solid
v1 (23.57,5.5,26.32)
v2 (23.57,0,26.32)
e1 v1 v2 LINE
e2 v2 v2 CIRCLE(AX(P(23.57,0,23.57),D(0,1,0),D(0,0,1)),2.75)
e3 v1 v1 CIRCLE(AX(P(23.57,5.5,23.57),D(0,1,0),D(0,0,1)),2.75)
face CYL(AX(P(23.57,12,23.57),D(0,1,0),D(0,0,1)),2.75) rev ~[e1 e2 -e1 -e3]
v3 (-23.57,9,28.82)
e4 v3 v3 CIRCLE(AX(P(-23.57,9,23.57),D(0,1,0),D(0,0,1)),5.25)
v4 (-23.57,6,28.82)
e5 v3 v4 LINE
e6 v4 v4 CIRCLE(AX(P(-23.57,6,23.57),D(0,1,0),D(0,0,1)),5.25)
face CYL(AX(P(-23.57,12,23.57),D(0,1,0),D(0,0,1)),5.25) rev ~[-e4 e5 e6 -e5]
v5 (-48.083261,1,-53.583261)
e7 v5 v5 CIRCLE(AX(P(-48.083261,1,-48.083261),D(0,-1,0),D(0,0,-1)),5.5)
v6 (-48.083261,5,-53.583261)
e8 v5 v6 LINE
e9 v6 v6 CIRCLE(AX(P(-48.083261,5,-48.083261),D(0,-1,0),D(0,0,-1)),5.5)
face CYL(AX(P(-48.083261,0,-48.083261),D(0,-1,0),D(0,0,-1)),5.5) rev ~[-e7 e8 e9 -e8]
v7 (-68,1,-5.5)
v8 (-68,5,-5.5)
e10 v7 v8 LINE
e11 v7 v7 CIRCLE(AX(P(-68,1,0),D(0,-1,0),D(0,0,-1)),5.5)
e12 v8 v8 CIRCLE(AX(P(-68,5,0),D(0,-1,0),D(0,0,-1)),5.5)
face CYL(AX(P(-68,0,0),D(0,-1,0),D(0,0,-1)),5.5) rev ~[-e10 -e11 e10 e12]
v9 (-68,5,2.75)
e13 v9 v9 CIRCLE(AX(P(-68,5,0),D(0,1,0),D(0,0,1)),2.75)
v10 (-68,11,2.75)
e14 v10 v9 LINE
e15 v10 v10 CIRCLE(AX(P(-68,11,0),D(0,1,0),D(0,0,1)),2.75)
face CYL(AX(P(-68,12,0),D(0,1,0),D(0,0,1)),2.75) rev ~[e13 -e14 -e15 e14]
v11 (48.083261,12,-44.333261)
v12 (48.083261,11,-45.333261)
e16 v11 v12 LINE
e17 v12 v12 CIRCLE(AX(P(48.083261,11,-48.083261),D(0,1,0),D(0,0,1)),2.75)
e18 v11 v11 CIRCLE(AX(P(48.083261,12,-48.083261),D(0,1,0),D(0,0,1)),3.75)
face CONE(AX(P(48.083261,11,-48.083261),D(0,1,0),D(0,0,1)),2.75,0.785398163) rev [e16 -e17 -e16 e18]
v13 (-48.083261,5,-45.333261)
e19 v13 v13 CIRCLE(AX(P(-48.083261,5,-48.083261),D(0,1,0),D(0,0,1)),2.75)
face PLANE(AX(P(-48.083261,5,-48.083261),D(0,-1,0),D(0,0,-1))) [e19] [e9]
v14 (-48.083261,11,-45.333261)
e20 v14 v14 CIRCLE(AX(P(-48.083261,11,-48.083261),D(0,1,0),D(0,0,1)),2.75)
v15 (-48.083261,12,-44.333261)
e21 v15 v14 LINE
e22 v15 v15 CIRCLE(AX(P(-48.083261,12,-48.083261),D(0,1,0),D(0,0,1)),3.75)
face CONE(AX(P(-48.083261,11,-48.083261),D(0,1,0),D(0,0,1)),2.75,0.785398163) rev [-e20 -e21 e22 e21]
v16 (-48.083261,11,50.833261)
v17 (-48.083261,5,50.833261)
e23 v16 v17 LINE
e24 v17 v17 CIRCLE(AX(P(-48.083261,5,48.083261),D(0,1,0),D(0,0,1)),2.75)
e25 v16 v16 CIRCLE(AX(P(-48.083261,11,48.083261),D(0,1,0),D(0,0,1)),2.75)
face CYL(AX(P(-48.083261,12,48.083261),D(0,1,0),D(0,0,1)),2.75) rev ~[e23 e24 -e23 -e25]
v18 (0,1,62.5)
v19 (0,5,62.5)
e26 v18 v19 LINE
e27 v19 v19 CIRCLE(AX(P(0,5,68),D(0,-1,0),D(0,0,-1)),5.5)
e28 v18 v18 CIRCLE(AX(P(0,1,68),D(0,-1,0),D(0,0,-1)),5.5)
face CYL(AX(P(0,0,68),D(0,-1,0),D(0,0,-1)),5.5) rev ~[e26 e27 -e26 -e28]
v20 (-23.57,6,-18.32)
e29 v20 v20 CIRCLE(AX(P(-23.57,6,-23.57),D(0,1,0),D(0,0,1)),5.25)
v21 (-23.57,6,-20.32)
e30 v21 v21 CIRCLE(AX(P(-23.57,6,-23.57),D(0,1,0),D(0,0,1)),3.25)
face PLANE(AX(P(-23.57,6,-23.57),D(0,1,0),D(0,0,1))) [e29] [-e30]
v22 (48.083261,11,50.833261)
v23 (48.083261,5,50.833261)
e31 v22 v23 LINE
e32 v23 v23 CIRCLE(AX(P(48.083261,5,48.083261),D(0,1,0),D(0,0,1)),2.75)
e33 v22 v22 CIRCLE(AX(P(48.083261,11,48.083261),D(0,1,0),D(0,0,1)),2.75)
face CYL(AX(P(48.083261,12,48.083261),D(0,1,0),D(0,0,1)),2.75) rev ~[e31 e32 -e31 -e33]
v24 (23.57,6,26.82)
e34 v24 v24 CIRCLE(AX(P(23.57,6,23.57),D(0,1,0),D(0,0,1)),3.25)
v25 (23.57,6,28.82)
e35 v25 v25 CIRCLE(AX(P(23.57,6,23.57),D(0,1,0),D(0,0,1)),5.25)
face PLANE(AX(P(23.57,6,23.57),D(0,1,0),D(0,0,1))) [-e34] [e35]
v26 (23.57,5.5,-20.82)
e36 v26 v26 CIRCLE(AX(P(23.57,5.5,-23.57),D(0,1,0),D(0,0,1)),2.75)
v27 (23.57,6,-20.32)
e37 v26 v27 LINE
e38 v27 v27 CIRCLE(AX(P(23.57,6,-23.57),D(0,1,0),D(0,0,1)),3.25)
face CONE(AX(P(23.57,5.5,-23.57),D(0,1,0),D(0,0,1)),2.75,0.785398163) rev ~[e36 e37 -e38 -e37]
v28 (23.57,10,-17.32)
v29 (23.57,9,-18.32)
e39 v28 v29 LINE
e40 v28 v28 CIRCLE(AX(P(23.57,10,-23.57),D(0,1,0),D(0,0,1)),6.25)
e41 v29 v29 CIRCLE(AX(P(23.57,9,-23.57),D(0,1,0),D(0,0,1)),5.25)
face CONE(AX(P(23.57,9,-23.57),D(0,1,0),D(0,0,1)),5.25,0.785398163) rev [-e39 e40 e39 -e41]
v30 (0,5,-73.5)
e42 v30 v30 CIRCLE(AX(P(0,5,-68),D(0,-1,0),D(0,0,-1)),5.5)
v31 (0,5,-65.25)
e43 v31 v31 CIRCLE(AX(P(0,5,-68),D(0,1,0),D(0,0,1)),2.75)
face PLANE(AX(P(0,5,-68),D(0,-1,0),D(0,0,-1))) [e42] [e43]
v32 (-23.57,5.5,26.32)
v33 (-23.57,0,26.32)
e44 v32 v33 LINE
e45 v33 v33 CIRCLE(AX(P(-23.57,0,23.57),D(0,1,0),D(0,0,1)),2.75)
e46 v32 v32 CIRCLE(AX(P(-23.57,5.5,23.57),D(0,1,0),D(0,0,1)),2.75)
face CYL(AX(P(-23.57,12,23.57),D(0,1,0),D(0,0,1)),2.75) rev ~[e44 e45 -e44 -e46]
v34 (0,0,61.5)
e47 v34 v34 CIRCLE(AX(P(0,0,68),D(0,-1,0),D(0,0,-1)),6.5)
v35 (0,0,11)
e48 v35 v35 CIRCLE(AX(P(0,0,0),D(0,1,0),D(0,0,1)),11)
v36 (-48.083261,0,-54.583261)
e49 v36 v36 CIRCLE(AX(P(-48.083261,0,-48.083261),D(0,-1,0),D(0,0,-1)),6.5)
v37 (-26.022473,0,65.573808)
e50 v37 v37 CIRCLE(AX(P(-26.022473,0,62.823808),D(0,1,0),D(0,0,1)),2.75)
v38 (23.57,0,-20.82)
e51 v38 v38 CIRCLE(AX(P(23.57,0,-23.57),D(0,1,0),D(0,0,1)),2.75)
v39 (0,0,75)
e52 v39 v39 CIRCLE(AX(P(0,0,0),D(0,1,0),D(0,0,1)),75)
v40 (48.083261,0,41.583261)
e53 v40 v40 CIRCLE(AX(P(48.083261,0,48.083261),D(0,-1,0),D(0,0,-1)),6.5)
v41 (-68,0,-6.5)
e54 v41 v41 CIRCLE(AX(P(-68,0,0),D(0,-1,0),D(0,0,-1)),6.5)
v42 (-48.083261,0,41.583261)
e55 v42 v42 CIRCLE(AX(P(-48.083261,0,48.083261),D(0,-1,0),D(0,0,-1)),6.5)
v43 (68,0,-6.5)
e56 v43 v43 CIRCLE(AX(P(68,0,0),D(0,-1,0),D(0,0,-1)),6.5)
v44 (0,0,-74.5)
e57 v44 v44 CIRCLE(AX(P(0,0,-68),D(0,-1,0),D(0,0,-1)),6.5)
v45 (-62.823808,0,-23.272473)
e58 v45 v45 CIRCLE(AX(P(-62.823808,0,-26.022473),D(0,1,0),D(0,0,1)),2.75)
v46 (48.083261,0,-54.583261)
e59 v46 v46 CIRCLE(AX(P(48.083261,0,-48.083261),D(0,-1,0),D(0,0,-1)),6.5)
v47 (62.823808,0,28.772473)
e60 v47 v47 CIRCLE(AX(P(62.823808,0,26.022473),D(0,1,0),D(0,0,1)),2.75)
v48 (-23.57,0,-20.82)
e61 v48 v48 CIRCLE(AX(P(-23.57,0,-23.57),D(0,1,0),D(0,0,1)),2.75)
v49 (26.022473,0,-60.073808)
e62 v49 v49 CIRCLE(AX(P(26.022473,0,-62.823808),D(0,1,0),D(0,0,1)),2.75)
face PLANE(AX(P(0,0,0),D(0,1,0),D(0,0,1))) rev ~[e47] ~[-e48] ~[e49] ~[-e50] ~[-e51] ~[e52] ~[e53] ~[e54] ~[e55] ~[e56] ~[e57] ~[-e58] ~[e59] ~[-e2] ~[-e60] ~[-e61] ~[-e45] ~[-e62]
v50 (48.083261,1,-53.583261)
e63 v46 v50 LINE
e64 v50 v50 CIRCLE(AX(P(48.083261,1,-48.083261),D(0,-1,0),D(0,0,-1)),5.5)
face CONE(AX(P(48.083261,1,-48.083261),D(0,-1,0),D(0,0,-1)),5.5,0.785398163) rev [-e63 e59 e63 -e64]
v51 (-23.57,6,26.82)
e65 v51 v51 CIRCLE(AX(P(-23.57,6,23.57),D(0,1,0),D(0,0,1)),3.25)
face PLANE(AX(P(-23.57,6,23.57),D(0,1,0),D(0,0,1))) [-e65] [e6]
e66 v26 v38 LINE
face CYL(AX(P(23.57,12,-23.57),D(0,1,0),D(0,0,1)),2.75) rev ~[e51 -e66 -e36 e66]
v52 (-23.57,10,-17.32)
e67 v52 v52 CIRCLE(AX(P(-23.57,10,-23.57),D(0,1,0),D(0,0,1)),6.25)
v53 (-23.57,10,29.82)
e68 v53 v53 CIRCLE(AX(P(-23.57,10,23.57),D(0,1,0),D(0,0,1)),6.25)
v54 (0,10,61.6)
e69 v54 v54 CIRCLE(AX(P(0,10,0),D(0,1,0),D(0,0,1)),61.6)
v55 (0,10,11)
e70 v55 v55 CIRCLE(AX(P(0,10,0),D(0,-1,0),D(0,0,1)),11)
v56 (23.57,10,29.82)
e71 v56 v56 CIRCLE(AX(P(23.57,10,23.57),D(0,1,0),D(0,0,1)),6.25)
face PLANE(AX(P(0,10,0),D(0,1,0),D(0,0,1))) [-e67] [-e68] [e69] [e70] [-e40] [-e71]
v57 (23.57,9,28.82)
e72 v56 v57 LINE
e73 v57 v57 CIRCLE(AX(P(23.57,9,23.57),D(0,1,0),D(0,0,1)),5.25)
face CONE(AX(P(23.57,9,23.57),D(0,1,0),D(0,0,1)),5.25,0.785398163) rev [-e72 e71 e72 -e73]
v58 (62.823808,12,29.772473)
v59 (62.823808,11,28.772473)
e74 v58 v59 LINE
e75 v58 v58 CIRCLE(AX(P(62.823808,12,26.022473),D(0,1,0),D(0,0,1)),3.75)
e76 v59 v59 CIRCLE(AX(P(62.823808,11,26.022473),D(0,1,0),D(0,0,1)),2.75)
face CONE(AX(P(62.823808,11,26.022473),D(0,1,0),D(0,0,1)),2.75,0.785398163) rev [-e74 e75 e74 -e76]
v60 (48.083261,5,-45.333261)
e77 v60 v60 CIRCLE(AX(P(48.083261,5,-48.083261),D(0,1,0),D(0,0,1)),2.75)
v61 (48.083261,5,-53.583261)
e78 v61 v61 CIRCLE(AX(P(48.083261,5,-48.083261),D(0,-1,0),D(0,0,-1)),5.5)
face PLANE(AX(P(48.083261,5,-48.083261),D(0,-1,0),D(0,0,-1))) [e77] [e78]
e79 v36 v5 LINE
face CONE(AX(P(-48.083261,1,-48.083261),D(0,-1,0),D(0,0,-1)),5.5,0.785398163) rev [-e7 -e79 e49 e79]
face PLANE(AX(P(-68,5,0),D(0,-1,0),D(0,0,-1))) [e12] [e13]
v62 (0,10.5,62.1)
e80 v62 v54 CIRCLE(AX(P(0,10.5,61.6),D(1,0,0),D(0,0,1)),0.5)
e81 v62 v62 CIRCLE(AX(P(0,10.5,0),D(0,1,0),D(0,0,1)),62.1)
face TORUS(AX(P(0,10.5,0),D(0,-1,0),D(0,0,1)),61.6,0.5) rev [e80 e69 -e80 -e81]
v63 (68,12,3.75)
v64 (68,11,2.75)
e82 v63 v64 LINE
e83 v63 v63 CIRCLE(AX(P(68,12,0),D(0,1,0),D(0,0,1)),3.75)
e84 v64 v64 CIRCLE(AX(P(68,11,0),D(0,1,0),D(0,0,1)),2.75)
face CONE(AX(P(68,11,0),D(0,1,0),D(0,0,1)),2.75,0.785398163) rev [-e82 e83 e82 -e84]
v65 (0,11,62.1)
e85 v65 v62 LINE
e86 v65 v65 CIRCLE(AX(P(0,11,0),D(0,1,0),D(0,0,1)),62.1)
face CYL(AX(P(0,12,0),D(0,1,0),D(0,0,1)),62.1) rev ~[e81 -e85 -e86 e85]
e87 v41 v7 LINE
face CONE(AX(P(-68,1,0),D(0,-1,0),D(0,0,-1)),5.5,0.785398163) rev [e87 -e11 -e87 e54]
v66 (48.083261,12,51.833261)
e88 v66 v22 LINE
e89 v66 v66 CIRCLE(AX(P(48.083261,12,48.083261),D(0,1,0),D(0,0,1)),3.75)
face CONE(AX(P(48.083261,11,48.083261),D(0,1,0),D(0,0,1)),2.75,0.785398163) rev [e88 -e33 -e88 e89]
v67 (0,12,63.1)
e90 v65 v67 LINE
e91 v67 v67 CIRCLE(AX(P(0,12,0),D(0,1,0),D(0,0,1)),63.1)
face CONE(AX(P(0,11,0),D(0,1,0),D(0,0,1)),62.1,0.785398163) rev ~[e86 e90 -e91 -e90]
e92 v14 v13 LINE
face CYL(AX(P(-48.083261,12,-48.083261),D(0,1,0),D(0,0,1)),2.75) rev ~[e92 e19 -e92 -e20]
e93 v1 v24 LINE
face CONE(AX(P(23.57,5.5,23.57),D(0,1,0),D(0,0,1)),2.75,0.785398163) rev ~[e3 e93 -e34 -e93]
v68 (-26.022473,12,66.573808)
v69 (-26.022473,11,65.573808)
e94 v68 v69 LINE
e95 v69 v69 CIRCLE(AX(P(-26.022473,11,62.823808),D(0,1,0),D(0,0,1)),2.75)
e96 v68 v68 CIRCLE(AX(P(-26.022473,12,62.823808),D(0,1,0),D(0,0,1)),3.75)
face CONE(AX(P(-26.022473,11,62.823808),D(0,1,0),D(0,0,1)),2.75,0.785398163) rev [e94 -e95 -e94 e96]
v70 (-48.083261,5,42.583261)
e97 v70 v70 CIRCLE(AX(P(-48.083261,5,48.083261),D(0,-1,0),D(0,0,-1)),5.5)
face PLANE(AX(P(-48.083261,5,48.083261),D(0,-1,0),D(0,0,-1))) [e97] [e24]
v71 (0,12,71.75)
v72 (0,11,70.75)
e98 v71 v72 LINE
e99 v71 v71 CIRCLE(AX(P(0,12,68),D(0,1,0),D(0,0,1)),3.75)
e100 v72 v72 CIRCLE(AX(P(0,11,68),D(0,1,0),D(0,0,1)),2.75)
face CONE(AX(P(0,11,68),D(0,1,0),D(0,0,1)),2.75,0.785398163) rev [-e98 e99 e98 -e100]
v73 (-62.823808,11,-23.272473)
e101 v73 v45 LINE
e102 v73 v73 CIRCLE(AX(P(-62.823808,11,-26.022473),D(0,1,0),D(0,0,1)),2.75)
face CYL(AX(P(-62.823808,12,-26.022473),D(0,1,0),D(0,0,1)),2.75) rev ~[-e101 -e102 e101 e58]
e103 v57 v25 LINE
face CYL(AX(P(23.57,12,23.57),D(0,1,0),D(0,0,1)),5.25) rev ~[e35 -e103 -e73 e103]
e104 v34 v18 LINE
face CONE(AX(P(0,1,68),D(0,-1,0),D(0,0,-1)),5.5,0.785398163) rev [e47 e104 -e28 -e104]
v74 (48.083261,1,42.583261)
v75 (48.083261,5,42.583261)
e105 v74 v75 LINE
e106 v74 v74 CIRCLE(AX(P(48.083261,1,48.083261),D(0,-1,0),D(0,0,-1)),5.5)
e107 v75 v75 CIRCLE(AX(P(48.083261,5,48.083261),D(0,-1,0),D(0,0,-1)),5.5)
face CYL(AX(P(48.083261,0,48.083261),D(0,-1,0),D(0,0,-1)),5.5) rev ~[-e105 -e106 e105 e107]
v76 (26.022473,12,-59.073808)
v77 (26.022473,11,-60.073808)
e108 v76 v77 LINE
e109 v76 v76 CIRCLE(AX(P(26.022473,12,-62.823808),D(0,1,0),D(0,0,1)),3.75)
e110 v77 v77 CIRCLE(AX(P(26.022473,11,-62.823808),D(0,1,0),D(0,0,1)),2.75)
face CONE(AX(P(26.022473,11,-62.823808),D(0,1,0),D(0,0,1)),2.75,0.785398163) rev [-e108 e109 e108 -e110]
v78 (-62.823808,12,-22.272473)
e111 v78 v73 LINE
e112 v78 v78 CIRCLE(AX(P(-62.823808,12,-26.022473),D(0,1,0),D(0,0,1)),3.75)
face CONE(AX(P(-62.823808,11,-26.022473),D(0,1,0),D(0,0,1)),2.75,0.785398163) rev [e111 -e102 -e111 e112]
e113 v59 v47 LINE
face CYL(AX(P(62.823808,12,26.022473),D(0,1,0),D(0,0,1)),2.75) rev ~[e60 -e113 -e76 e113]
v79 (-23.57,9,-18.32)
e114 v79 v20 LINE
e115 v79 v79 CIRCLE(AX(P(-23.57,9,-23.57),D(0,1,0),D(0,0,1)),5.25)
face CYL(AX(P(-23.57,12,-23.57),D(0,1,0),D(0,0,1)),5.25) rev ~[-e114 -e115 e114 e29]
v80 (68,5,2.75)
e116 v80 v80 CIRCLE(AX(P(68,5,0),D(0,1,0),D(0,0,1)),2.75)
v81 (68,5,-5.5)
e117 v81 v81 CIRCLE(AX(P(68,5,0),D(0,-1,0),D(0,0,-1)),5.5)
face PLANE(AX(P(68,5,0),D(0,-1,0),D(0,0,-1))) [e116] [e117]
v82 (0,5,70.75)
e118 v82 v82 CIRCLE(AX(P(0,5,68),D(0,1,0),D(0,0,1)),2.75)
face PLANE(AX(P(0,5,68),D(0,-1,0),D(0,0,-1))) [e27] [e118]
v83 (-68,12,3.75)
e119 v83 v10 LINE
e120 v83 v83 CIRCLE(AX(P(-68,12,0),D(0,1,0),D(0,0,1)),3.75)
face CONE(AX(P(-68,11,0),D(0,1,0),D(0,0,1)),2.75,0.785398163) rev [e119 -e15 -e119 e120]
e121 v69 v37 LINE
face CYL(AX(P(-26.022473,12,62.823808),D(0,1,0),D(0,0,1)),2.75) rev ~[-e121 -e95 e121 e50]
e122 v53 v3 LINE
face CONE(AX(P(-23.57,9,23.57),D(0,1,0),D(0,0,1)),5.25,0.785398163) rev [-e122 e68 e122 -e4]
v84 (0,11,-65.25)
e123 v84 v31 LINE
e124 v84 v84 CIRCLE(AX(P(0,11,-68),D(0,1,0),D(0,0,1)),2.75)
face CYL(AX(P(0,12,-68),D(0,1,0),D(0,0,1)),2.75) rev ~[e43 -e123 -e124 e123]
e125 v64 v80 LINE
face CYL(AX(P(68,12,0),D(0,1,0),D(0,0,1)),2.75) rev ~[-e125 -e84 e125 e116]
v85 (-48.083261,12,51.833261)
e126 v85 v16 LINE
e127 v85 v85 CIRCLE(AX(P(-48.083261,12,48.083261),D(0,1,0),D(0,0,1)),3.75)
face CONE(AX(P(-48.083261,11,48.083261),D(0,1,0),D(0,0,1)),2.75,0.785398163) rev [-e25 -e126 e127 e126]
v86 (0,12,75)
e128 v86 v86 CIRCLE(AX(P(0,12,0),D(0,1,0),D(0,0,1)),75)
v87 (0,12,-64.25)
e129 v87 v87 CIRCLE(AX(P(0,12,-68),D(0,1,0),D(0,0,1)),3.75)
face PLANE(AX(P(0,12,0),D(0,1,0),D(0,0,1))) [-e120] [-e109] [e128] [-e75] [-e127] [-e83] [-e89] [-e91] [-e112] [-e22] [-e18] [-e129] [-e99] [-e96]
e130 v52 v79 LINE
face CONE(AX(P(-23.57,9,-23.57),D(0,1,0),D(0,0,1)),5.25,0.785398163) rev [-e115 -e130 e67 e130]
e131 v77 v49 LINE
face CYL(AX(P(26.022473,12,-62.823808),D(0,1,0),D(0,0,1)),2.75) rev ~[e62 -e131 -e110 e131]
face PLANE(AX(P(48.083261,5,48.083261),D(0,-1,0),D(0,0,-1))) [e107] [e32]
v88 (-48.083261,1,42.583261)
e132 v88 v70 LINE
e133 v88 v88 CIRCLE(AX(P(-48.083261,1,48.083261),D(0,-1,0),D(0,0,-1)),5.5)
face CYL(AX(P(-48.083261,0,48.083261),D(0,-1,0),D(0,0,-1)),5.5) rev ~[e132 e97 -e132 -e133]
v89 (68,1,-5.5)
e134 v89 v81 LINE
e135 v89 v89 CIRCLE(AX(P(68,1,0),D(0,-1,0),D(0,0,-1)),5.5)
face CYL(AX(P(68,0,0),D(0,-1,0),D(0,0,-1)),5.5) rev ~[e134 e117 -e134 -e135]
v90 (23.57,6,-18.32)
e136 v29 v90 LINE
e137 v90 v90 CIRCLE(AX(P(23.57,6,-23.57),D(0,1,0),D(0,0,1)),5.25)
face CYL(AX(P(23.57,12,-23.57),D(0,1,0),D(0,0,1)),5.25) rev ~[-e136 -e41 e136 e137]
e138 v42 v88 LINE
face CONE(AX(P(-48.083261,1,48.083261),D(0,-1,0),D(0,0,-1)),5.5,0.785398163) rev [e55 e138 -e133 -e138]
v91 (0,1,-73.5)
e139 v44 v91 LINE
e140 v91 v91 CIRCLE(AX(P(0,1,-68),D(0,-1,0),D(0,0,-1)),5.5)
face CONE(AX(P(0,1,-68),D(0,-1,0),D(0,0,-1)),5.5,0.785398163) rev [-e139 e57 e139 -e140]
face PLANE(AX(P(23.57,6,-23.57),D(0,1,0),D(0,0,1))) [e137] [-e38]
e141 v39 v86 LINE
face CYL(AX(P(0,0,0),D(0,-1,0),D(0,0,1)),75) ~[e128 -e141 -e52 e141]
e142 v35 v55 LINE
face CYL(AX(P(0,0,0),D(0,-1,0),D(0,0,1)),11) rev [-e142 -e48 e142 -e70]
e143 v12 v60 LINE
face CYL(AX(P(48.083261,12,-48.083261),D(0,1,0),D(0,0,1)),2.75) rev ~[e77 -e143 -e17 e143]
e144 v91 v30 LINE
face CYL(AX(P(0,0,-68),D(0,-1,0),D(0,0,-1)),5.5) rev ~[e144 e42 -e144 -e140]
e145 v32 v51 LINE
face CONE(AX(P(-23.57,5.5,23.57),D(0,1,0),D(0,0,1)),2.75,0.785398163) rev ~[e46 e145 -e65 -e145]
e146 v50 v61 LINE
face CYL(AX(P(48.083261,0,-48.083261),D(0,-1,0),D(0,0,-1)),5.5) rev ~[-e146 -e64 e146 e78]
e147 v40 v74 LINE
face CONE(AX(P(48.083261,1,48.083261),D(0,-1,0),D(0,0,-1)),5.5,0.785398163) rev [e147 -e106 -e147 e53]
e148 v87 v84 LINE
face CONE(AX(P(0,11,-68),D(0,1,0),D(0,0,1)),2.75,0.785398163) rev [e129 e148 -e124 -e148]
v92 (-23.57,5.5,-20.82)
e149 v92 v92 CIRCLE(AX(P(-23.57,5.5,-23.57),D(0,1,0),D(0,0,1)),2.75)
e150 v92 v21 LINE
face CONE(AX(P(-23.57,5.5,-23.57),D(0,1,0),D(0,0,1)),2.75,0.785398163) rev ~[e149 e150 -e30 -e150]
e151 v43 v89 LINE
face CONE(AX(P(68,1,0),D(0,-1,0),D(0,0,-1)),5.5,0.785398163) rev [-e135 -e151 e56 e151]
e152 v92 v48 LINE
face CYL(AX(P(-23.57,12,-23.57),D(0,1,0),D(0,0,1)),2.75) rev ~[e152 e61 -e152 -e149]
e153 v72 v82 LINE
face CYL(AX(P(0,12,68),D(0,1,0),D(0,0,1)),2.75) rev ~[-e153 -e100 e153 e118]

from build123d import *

# Parameters (mm, degrees)
SKETCH1_R           = 75
SKETCH1_R_2         = 11
BOSS_EXTRUDE1_DEPTH = 12
SKETCH2_R           = 2.75
CUT_EXTRUDE1_DEPTH  = 107.742681248
SKETCH3_R           = 5.25
CUT_EXTRUDE2_DEPTH  = 6
SKETCH4_R           = 62.1
CUT_EXTRUDE3_DEPTH  = 2
SKETCH5_R           = 2.75
CUT_EXTRUDE4_DEPTH  = 107.742681248
SKETCH8_R           = 5.5
CUT_EXTRUDE5_DEPTH  = 5
FILLET1_R           = 0.5
CHAMFER1_SIZE       = 1
CHAMFER2_SIZE       = 1
CHAMFER3_SIZE       = 1
CHAMFER4_SIZE       = 0.5


with BuildPart() as part:
    # Sketch1 → Boss-Extrude1 (new body)
    with BuildSketch(Plane(origin=(0, 0, 0), x_dir=(1, 0, 0), z_dir=(0, 1, 0))):
        Circle(SKETCH1_R)
        Circle(SKETCH1_R_2, mode=Mode.SUBTRACT)
    extrude(amount=BOSS_EXTRUDE1_DEPTH)

    # Sketch2 → Cut-Extrude1 (cut, through all)
    with BuildSketch(Plane(origin=(0, 12, 0), x_dir=(1, 0, 0), z_dir=(0, 1, 0))):
        with Locations((-23.57, 23.57)):
            Circle(SKETCH2_R)
        with Locations((23.57, 23.57)):
            Circle(SKETCH2_R)
        with Locations((-23.57, -23.57)):
            Circle(SKETCH2_R)
        with Locations((23.57, -23.57)):
            Circle(SKETCH2_R)
    extrude(amount=-CUT_EXTRUDE1_DEPTH, mode=Mode.SUBTRACT)

    # Sketch3 → Cut-Extrude2 (cut)
    with BuildSketch(Plane(origin=(0, 12, 0), x_dir=(1, 0, 0), z_dir=(0, 1, 0))):
        with Locations((-23.57, 23.57)):
            Circle(SKETCH3_R)
        with Locations((23.57, 23.57)):
            Circle(SKETCH3_R)
        with Locations((-23.57, -23.57)):
            Circle(SKETCH3_R)
        with Locations((23.57, -23.57)):
            Circle(SKETCH3_R)
    extrude(amount=-CUT_EXTRUDE2_DEPTH, mode=Mode.SUBTRACT)

    # Sketch4 → Cut-Extrude3 (cut)
    with BuildSketch(Plane(origin=(0, 12, 0), x_dir=(1, 0, 0), z_dir=(0, 1, 0))):
        Circle(SKETCH4_R)
    extrude(amount=-CUT_EXTRUDE3_DEPTH, mode=Mode.SUBTRACT)

    # Sketch5 → Cut-Extrude4 (cut, through all)
    with BuildSketch(Plane(origin=(0, 12, 0), x_dir=(1, 0, 0), z_dir=(0, 1, 0))):
        with Locations((0, 68)):
            Circle(SKETCH5_R)
        with Locations((48.083261121, 48.083261121)):
            Circle(SKETCH5_R)
        with Locations((68, 0)):
            Circle(SKETCH5_R)
        with Locations((48.083261121, -48.083261121)):
            Circle(SKETCH5_R)
        with Locations((0, -68)):
            Circle(SKETCH5_R)
        with Locations((-48.083261121, -48.083261121)):
            Circle(SKETCH5_R)
        with Locations((-68, 0)):
            Circle(SKETCH5_R)
        with Locations((-48.083261121, 48.083261121)):
            Circle(SKETCH5_R)
        with Locations((26.022473401, 62.823808211)):
            Circle(SKETCH5_R)
        with Locations((62.823808211, -26.022473401)):
            Circle(SKETCH5_R)
        with Locations((-26.022473401, -62.823808211)):
            Circle(SKETCH5_R)
        with Locations((-62.823808211, 26.022473401)):
            Circle(SKETCH5_R)
    extrude(amount=-CUT_EXTRUDE4_DEPTH, mode=Mode.SUBTRACT)

    # Sketch8 → Cut-Extrude5 (cut)
    with BuildSketch(Plane.XZ):
        with Locations((0, 68)):
            Circle(SKETCH8_R)
        with Locations((-48.083261121, 48.083261121)):
            Circle(SKETCH8_R)
        with Locations((48.083261121, 48.083261121)):
            Circle(SKETCH8_R)
        with Locations((48.083261121, -48.083261121)):
            Circle(SKETCH8_R)
        with Locations((0, -68)):
            Circle(SKETCH8_R)
        with Locations((-48.083261121, -48.083261121)):
            Circle(SKETCH8_R)
        with Locations((-68, 0)):
            Circle(SKETCH8_R)
        with Locations((68, 0)):
            Circle(SKETCH8_R)
    extrude(amount=-CUT_EXTRUDE5_DEPTH, mode=Mode.SUBTRACT)

    # Fillet1
    fillet1_edges = [part.edges().sort_by_distance(p)[0] for p in [
        (-62.1, 10, 0),
    ]]
    fillet(fillet1_edges, radius=FILLET1_R)

    # Chamfer1
    chamfer1_edges = [part.edges().sort_by_distance(p)[0] for p in [
        (-62.1, 12, 0),
    ]]
    chamfer(chamfer1_edges, length=CHAMFER1_SIZE)

    # Chamfer2
    chamfer2_edges = [part.edges().sort_by_distance(p)[0] for p in [
        (-2.75, 12, 68),
        (-70.75, 12, 0),
        (-50.833261121, 12, 48.083261121),
        (45.333261121, 12, 48.083261121),
        (65.25, 12, 0),
        (45.333261121, 12, -48.083261121),
        (23.272473401, 12, -62.823808211),
        (-2.75, 12, -68),
        (-50.833261121, 12, -48.083261121),
        (-28.82, 10, -23.57),
        (18.32, 10, -23.57),
        (18.32, 10, 23.57),
        (-28.82, 10, 23.57),
        (60.073808211, 12, 26.022473401),
        (-28.772473401, 12, 62.823808211),
        (-65.573808211, 12, -26.022473401),
    ]]
    chamfer(chamfer2_edges, length=CHAMFER2_SIZE)

    # Chamfer3
    chamfer3_edges = [part.edges().sort_by_distance(p)[0] for p in [
        (-5.5, 0, 68),
        (42.583261121, 0, 48.083261121),
        (62.5, 0, 0),
        (42.583261121, 0, -48.083261121),
        (-5.5, 0, -68),
        (-53.583261121, 0, -48.083261121),
        (-73.5, 0, 0),
        (-53.583261121, 0, 48.083261121),
    ]]
    chamfer(chamfer3_edges, length=CHAMFER3_SIZE)

    # Chamfer4
    chamfer4_edges = [part.edges().sort_by_distance(p)[0] for p in [
        (-26.32, 6, 23.57),
        (20.82, 6, 23.57),
        (20.82, 6, -23.57),
        (-26.32, 6, -23.57),
    ]]
    chamfer(chamfer4_edges, length=CHAMFER4_SIZE)


solid = part.part
